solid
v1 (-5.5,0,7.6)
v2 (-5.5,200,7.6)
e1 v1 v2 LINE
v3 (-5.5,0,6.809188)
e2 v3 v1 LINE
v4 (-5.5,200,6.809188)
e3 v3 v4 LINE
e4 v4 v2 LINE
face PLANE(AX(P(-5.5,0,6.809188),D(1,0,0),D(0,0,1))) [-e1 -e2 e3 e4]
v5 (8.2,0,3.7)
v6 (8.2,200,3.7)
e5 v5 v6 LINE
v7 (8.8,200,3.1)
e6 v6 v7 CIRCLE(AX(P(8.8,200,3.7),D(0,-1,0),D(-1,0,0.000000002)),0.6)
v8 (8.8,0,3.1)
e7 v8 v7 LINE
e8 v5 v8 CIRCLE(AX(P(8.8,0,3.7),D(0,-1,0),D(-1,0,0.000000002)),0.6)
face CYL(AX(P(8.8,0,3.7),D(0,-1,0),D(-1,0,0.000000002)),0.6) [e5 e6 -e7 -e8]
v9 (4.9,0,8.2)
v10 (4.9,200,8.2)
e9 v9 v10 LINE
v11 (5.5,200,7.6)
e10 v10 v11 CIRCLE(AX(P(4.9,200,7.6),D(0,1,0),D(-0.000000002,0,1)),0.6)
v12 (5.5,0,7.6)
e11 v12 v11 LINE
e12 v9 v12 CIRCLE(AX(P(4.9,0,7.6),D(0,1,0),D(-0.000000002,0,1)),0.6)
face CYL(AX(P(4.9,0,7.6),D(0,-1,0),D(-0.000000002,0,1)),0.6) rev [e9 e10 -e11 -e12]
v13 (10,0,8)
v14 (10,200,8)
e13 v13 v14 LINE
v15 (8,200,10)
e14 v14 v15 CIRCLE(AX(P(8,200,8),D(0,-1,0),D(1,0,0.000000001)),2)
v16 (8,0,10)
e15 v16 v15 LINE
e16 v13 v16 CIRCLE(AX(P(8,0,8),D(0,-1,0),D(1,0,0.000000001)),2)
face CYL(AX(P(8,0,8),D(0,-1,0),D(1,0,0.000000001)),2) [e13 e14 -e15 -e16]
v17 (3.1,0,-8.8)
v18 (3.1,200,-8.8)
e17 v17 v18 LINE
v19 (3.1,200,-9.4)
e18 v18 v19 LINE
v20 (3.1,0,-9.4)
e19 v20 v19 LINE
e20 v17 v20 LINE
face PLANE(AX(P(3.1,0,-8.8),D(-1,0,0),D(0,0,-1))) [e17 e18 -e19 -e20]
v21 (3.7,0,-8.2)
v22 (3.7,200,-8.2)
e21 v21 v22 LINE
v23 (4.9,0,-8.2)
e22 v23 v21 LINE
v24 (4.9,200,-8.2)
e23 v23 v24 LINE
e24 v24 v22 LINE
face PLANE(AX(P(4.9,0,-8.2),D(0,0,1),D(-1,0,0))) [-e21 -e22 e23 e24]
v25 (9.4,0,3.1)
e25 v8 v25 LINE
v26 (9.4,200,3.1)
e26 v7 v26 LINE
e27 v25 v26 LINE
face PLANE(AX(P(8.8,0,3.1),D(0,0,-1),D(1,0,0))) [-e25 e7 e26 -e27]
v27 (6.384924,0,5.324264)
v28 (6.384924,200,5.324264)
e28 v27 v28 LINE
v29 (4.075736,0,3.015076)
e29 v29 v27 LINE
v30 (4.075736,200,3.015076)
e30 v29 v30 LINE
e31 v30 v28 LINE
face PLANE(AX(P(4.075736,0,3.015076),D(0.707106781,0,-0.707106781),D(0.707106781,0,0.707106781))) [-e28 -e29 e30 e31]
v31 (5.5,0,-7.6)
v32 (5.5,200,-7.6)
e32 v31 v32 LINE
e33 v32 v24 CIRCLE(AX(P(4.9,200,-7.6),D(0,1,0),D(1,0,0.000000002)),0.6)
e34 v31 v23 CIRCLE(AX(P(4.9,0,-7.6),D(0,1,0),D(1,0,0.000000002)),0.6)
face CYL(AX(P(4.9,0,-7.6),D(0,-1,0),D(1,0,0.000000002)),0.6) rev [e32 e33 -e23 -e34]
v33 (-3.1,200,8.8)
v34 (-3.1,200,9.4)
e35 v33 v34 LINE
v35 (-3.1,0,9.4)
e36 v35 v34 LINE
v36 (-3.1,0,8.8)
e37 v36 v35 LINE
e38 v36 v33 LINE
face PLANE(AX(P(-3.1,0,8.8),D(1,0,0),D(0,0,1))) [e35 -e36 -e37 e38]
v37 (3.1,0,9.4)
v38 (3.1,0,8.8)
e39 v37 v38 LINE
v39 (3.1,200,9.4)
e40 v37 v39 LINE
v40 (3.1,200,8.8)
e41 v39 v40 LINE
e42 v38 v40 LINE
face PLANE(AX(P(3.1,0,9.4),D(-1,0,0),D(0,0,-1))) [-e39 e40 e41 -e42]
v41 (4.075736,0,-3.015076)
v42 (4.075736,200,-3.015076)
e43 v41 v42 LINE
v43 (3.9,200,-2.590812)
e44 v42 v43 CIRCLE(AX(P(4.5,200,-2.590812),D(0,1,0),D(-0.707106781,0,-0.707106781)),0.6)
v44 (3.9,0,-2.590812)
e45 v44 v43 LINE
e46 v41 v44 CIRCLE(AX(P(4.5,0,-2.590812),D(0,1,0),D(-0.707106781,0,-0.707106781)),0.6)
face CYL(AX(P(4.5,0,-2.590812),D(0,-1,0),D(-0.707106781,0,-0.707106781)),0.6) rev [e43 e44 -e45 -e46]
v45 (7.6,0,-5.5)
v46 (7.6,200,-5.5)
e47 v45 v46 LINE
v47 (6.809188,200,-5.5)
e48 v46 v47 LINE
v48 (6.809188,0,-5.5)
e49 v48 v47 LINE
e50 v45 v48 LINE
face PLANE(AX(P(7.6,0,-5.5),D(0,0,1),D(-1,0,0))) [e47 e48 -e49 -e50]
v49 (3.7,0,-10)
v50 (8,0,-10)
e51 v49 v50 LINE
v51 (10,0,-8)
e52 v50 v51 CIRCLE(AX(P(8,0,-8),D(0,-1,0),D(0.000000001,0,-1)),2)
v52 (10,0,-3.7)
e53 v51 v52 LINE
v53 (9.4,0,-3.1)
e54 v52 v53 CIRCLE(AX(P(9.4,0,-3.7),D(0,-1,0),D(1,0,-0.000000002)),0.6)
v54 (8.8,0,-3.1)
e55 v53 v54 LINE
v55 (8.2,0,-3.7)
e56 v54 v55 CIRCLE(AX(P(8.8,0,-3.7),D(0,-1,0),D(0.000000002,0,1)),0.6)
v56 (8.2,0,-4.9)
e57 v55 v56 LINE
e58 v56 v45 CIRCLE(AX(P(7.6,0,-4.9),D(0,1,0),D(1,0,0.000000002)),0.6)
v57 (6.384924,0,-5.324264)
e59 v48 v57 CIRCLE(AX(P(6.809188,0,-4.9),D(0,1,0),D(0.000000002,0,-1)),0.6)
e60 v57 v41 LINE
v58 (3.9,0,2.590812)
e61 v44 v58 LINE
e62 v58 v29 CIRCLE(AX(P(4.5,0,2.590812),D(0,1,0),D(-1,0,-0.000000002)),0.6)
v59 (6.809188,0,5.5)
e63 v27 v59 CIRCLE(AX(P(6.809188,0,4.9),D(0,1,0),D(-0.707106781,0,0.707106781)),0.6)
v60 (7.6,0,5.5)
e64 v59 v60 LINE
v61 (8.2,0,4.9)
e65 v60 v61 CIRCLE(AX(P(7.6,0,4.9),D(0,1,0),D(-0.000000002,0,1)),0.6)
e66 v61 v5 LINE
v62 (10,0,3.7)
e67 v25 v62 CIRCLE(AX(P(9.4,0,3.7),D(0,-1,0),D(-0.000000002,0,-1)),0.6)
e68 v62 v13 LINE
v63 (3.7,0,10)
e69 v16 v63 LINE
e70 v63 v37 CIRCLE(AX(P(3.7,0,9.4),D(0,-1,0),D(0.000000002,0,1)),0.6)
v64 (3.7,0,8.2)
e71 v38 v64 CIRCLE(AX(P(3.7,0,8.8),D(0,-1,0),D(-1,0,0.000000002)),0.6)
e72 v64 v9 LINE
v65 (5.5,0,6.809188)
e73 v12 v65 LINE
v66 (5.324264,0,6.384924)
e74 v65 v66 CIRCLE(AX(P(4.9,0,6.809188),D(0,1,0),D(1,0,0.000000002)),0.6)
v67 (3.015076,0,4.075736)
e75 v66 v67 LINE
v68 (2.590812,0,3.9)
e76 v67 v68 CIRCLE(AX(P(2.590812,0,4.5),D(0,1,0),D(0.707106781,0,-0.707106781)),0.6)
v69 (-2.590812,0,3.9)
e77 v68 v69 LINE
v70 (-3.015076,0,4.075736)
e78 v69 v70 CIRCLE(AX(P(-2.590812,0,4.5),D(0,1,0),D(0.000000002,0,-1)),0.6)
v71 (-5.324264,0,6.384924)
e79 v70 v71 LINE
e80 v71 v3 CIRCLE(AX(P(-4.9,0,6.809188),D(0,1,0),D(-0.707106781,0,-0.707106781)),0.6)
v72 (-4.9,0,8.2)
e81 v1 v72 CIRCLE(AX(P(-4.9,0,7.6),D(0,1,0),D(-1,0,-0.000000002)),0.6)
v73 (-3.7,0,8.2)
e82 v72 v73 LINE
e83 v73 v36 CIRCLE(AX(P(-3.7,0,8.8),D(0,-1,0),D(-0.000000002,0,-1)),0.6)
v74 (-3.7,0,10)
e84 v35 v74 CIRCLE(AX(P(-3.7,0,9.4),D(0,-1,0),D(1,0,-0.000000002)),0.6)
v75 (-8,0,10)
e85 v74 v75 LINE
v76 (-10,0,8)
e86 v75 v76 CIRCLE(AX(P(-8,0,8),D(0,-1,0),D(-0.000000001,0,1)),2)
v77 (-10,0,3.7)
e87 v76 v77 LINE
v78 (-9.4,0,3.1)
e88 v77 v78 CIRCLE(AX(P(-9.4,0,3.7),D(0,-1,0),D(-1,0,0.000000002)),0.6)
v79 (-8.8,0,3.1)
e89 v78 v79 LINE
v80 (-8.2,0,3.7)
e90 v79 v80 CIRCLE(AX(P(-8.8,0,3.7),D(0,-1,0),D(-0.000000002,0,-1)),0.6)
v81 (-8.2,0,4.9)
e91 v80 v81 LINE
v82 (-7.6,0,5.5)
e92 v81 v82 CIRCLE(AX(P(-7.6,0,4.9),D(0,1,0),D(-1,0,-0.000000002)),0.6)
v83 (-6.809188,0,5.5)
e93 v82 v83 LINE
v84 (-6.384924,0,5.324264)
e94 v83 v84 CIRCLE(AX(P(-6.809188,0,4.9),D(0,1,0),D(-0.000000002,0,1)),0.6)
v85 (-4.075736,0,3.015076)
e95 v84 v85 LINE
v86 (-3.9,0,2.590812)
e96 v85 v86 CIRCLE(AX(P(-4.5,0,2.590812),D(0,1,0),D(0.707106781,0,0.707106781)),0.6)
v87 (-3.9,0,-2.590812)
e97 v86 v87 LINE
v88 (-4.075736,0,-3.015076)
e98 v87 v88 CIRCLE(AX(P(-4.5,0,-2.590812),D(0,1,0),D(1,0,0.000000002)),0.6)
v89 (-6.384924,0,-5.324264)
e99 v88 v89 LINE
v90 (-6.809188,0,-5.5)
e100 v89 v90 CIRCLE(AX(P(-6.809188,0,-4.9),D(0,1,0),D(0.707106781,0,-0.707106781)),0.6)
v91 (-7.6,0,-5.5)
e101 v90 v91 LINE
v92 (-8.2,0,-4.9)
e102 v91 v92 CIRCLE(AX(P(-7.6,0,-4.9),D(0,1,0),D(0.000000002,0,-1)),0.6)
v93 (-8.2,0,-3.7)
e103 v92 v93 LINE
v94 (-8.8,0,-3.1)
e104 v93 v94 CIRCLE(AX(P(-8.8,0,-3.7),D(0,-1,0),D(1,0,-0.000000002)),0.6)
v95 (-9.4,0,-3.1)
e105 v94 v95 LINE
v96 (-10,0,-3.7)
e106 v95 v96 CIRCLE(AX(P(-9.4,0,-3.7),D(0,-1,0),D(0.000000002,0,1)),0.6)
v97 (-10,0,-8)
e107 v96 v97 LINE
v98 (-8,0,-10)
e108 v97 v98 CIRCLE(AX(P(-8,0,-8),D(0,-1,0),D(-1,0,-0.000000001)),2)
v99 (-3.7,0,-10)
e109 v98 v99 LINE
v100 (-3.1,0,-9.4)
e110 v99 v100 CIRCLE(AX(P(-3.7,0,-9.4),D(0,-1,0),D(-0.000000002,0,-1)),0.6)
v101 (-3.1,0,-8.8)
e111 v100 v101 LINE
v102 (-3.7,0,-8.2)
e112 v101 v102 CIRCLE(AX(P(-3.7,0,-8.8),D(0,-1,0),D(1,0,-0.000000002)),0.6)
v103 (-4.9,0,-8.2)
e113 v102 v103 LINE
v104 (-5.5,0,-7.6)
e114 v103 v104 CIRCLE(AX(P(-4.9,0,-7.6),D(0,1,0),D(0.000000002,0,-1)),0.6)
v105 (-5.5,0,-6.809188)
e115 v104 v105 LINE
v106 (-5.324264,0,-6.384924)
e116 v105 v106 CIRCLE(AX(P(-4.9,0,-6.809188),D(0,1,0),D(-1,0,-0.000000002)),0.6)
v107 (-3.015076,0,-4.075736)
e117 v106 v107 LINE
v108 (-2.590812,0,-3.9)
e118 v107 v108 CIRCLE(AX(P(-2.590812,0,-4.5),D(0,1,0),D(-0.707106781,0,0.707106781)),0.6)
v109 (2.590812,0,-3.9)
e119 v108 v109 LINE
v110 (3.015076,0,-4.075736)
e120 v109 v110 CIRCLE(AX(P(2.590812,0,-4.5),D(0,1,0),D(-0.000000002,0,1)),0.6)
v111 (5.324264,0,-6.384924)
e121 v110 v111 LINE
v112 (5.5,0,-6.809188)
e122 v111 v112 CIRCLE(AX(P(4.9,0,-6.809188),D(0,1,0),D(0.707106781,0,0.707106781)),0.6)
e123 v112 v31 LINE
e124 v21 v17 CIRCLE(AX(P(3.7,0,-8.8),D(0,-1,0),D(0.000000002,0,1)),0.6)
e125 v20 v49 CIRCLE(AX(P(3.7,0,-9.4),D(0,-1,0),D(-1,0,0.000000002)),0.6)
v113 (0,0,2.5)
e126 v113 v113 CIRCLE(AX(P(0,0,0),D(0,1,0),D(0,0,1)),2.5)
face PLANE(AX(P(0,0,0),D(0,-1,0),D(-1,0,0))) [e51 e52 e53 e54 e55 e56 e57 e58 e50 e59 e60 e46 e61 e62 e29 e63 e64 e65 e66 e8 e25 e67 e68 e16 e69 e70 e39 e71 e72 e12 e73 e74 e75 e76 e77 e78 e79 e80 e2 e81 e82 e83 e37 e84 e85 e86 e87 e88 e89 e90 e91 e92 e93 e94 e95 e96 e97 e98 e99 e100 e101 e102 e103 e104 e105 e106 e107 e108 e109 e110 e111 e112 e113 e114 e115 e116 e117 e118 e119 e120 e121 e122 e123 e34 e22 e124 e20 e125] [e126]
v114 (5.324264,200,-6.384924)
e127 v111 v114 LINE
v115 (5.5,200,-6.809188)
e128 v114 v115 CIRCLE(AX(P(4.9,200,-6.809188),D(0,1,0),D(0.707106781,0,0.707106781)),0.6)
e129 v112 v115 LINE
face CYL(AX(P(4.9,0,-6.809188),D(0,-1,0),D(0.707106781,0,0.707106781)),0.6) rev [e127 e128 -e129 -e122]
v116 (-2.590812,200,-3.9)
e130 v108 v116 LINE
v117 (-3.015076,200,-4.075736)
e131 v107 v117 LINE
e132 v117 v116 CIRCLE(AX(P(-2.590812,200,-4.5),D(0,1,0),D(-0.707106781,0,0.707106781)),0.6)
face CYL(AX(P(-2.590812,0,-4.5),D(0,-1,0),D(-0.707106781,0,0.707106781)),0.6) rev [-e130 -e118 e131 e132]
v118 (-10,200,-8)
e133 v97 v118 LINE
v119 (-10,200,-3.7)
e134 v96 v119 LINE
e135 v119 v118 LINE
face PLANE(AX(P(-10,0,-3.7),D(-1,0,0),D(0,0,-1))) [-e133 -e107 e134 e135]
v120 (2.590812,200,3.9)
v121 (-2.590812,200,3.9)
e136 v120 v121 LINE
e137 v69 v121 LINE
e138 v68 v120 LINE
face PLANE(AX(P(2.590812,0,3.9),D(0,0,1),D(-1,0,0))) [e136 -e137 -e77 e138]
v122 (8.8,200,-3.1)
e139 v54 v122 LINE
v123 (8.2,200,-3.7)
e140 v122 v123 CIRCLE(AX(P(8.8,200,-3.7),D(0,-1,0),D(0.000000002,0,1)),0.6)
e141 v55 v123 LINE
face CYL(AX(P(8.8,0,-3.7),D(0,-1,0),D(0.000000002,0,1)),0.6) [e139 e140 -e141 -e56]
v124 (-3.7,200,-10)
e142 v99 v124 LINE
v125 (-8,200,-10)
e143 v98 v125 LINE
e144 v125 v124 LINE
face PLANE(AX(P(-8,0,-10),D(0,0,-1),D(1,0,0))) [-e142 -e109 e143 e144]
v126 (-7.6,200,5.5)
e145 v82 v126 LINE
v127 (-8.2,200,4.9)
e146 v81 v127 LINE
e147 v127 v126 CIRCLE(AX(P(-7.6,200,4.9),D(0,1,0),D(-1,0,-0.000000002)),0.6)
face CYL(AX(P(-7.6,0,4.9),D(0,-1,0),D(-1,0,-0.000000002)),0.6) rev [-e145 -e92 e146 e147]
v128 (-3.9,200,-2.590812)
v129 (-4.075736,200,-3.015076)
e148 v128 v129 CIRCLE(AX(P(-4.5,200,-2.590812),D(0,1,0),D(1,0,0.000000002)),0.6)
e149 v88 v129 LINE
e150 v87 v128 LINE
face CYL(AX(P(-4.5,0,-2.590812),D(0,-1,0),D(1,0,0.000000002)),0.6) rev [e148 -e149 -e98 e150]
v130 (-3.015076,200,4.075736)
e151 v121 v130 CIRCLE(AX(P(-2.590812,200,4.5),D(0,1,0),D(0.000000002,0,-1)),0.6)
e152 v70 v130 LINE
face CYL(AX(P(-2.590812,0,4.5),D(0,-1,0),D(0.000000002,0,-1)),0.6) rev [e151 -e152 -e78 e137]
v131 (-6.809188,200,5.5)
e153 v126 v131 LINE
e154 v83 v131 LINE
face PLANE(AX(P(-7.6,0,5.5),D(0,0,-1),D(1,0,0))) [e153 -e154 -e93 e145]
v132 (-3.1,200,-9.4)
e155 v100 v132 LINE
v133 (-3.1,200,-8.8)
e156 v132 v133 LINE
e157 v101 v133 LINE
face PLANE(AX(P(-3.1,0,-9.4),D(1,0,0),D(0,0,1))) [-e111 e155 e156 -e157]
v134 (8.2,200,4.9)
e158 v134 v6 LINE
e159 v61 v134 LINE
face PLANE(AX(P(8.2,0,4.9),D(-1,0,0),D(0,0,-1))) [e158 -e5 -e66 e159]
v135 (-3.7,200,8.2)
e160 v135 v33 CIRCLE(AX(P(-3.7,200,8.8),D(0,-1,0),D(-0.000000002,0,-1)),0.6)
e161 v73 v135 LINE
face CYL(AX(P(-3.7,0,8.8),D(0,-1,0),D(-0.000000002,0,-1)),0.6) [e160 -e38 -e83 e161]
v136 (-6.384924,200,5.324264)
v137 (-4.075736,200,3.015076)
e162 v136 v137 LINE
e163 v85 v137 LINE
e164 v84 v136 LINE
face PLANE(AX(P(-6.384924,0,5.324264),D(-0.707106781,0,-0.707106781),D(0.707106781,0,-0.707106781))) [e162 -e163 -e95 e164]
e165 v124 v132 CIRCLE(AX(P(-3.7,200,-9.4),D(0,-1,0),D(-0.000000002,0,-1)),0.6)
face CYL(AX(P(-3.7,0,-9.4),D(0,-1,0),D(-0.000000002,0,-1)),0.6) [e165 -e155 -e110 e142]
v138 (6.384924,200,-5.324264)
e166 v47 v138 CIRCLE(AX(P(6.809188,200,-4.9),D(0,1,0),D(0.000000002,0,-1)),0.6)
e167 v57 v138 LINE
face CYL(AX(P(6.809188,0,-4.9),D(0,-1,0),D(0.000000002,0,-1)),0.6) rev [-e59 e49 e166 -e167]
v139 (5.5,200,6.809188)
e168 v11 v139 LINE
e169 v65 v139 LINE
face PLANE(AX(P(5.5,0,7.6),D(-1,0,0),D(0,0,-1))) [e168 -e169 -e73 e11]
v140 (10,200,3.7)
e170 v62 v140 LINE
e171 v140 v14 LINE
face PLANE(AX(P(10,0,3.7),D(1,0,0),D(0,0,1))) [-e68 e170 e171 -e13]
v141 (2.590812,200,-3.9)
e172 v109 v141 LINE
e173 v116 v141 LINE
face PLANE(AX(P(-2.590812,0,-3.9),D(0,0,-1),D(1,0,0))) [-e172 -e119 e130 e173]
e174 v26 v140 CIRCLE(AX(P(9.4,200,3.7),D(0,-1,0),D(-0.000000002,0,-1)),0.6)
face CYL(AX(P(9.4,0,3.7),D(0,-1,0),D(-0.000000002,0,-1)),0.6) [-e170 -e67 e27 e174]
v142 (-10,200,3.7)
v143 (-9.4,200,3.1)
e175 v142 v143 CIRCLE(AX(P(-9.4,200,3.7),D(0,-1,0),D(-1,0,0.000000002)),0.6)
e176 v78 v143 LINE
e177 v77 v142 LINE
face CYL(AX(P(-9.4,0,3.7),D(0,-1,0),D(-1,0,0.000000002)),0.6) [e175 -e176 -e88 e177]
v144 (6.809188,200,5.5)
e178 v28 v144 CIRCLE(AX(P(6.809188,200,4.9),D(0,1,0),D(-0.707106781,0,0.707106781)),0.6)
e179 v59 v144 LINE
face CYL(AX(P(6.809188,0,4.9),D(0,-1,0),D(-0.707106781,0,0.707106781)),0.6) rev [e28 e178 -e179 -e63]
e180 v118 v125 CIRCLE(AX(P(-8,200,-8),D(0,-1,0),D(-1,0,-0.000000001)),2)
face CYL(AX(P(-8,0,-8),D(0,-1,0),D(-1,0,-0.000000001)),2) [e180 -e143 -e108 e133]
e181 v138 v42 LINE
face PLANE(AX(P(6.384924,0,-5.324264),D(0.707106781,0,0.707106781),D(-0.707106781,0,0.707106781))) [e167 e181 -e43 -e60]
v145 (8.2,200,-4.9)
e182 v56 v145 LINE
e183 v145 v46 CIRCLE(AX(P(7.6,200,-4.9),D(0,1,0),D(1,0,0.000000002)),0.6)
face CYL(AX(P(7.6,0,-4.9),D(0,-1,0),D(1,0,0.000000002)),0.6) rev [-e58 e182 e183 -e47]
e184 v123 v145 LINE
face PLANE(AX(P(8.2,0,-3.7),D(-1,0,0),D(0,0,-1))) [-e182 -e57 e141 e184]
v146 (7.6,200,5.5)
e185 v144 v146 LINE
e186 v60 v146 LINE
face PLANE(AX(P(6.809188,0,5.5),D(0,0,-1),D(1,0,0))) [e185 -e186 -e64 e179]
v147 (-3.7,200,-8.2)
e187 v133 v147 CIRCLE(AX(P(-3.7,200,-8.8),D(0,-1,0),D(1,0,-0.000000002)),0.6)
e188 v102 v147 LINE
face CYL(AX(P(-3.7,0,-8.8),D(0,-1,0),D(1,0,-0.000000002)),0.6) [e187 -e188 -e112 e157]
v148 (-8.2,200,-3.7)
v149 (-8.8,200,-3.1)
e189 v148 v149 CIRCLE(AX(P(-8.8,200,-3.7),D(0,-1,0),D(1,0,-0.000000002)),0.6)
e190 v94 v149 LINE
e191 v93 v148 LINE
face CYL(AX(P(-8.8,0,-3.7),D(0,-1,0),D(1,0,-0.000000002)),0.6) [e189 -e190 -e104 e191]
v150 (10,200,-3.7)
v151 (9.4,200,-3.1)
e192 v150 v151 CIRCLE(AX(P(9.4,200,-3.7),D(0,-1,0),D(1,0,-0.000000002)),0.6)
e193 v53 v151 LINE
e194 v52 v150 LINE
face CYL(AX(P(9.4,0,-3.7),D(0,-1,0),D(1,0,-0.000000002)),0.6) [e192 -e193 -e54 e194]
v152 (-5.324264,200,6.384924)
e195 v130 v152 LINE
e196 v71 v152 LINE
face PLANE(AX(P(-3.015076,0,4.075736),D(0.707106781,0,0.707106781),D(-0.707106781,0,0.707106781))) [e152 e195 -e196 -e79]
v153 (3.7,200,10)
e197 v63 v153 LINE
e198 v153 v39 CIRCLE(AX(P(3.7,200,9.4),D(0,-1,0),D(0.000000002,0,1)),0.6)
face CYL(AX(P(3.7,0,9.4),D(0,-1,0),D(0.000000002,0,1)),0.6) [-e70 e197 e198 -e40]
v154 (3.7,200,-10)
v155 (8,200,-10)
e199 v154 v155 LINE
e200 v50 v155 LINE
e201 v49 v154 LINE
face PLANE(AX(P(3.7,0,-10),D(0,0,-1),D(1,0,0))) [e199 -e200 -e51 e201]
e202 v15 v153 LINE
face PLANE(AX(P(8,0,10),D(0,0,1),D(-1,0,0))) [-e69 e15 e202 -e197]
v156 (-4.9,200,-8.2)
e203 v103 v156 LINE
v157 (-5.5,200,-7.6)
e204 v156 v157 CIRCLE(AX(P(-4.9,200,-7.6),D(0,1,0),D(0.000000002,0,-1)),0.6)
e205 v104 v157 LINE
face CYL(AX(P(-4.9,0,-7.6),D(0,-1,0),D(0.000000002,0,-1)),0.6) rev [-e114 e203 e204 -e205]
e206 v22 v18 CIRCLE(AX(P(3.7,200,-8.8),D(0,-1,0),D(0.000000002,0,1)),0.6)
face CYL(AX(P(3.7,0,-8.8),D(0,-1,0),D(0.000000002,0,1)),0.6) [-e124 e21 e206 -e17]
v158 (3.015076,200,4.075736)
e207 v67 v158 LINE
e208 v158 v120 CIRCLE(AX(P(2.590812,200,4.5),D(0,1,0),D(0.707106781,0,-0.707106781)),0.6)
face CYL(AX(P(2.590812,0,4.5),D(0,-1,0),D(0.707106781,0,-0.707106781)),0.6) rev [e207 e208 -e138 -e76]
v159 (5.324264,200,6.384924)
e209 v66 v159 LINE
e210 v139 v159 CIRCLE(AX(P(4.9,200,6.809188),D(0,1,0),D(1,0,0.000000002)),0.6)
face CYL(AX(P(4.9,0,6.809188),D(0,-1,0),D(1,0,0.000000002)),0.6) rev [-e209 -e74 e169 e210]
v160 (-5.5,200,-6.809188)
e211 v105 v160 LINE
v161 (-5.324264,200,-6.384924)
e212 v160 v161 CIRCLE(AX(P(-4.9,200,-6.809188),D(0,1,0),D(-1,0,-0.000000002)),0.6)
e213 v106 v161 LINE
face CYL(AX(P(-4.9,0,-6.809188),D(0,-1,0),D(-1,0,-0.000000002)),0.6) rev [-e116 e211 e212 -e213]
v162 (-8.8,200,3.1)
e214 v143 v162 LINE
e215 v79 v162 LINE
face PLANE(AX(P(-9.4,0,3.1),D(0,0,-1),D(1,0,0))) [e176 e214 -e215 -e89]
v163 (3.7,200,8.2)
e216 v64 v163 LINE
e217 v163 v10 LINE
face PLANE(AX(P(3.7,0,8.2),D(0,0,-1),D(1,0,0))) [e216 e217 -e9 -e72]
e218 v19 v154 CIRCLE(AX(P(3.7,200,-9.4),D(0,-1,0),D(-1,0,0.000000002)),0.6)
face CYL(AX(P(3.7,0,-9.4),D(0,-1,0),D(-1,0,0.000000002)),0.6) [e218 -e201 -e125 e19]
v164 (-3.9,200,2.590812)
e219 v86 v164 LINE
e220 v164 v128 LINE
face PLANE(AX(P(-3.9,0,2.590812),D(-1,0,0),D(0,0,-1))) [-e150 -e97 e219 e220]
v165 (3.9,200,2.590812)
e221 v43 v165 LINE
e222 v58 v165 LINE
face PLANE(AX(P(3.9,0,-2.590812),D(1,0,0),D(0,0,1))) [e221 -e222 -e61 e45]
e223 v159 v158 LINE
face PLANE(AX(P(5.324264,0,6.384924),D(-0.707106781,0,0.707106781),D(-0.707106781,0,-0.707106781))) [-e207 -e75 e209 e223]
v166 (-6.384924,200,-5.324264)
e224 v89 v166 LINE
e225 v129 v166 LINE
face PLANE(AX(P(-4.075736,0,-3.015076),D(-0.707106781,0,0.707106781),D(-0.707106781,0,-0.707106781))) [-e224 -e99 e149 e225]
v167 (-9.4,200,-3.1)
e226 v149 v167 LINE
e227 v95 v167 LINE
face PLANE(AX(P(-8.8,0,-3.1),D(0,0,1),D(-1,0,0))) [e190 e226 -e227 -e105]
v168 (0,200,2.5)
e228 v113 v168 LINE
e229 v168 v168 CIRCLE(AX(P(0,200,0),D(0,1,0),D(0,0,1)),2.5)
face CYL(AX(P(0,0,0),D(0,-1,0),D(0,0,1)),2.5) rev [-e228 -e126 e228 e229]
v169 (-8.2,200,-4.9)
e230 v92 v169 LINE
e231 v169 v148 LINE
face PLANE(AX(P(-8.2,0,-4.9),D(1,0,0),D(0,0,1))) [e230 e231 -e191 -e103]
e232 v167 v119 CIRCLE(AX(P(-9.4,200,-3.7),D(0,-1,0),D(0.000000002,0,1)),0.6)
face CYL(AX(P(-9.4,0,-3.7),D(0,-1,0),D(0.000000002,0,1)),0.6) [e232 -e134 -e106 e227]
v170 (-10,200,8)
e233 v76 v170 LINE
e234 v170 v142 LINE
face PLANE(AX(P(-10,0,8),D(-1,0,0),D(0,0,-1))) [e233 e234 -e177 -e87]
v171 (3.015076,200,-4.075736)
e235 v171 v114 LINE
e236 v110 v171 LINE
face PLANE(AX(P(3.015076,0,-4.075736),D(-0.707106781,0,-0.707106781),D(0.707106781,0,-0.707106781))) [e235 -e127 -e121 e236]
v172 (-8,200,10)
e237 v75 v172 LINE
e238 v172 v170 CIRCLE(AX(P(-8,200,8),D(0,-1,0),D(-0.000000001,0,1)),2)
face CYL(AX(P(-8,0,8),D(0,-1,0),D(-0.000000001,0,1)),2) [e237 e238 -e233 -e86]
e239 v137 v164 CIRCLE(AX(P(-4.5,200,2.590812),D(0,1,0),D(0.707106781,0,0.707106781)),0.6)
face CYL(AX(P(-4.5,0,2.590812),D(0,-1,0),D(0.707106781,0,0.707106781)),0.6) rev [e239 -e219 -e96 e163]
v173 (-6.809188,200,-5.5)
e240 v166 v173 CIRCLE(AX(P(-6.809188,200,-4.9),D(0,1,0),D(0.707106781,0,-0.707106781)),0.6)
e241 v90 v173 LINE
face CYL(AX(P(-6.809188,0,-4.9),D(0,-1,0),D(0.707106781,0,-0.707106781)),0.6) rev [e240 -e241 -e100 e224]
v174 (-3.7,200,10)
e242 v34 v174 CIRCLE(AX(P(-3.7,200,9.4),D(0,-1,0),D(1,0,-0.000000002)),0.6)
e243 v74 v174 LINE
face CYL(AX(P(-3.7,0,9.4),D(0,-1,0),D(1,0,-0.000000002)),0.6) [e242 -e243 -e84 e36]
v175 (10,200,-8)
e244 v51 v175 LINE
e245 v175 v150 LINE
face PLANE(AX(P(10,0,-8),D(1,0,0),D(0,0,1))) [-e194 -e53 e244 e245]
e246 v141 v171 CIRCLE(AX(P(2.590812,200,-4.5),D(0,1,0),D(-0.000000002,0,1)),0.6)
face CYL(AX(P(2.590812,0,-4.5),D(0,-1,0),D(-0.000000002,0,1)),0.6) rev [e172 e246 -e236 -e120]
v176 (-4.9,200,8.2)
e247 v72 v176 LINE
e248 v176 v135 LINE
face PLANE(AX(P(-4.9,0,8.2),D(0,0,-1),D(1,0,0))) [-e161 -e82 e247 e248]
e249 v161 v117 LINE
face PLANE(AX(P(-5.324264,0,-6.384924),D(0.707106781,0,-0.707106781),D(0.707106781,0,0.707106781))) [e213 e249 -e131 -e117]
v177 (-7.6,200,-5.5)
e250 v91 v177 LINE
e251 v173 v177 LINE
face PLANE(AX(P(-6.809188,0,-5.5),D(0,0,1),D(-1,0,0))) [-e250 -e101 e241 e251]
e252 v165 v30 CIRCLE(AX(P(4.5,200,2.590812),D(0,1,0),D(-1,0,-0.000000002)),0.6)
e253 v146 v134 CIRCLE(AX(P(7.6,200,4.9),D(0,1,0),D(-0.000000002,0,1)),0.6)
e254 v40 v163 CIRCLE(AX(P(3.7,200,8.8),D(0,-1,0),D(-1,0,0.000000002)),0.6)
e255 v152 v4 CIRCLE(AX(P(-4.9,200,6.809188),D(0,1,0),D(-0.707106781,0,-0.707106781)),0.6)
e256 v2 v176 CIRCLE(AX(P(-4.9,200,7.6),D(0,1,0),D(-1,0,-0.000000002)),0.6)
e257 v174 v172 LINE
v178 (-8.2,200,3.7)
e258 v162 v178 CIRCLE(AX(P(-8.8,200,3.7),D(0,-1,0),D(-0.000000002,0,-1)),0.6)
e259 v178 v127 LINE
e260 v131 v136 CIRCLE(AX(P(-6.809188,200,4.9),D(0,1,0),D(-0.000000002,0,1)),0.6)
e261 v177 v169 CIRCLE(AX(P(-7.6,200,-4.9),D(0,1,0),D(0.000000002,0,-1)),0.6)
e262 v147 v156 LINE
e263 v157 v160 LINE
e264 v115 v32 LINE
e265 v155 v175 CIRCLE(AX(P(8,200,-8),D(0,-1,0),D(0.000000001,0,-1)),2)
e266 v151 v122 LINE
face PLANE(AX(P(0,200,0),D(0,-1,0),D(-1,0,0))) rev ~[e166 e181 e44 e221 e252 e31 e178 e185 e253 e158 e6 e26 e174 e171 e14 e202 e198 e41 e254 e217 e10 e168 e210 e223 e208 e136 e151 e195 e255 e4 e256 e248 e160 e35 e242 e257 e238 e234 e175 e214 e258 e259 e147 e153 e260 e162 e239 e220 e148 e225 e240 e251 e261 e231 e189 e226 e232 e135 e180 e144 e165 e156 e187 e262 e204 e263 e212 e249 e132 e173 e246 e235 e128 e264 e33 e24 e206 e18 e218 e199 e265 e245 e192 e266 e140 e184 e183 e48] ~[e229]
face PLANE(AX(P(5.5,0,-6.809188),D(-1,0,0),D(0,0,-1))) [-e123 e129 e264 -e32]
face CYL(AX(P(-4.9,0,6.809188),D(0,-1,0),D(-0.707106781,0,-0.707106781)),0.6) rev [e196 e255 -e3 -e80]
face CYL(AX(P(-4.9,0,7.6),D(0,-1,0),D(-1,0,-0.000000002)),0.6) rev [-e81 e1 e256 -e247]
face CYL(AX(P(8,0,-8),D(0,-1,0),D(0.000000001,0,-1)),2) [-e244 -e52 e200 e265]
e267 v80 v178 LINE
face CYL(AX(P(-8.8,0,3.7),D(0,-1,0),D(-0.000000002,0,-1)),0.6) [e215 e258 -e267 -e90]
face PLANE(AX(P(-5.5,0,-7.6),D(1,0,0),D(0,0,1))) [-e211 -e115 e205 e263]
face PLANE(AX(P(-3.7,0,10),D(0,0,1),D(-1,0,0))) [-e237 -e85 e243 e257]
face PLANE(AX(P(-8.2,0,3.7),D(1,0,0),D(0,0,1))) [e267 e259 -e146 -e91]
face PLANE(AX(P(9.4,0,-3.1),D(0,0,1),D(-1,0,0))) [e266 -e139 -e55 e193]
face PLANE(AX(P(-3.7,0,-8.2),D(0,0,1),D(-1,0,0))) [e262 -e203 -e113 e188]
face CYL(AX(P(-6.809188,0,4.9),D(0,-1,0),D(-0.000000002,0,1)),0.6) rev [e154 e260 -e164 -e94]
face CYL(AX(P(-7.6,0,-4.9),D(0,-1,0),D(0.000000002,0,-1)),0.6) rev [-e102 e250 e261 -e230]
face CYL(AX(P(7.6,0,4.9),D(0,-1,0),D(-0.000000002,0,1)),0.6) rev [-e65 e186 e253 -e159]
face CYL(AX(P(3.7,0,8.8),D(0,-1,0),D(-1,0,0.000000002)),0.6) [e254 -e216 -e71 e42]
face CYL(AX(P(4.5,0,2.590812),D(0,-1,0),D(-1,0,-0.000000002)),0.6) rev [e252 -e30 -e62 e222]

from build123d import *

# Parameters (mm, degrees)
SKETCH_1_R      = 2.5
EXTRUDE_1_DEPTH = 200


with BuildPart() as part:
    # 草图1 → 凸台-拉伸1 (new body)
    with BuildSketch(Plane(origin=(0, 0, 0), x_dir=(1, 0, 0), z_dir=(0, 1, 0))):
        with BuildLine():
            Line((3.1, 8.8), (3.1, 9.4))
            ThreePointArc((3.1, 9.4), (3.275735931, 9.824264069), (3.7, 10))
            Line((3.7, 10), (8, 10))
            ThreePointArc((8, 10), (9.414213562, 9.414213562), (10, 8))
            Line((10, 8), (10, 3.7))
            ThreePointArc((10, 3.7), (9.824264069, 3.275735931), (9.4, 3.1))
            Line((9.4, 3.1), (8.8, 3.1))
            ThreePointArc((8.8, 3.1), (8.375735931, 3.275735931), (8.2, 3.7))
            Line((8.2, 3.7), (8.2, 4.9))
            ThreePointArc((8.2, 4.9), (8.024264069, 5.324264069), (7.6, 5.5))
            Line((7.6, 5.5), (6.809188309, 5.5))
            ThreePointArc((6.809188309, 5.5), (6.57957825, 5.45432772), (6.38492424, 5.324264069))
            Line((6.38492424, 5.324264069), (4.075735931, 3.01507576))
            ThreePointArc((4.075735931, 3.01507576), (3.94567228, 2.82042175), (3.9, 2.590811691))
            Line((3.9, 2.590811691), (3.9, 0))
            Line((3.9, 0), (3.9, -2.590811691))
            ThreePointArc((3.9, -2.590811691), (3.94567228, -2.82042175), (4.075735931, -3.01507576))
            Line((4.075735931, -3.01507576), (6.38492424, -5.324264069))
            ThreePointArc((6.38492424, -5.324264069), (6.57957825, -5.45432772), (6.809188309, -5.5))
            Line((6.809188309, -5.5), (7.6, -5.5))
            ThreePointArc((7.6, -5.5), (8.024264069, -5.324264069), (8.2, -4.9))
            Line((8.2, -4.9), (8.2, -3.7))
            ThreePointArc((8.2, -3.7), (8.375735931, -3.275735931), (8.8, -3.1))
            Line((8.8, -3.1), (9.4, -3.1))
            ThreePointArc((9.4, -3.1), (9.824264069, -3.275735931), (10, -3.7))
            Line((10, -3.7), (10, -8))
            ThreePointArc((10, -8), (9.414213562, -9.414213562), (8, -10))
            Line((8, -10), (3.7, -10))
            ThreePointArc((3.7, -10), (3.275735931, -9.824264069), (3.1, -9.4))
            Line((3.1, -9.4), (3.1, -8.8))
            ThreePointArc((3.1, -8.8), (3.275735931, -8.375735931), (3.7, -8.2))
            Line((3.7, -8.2), (4.9, -8.2))
            ThreePointArc((4.9, -8.2), (5.324264069, -8.024264069), (5.5, -7.6))
            Line((5.5, -7.6), (5.5, -6.809188309))
            ThreePointArc((5.5, -6.809188309), (5.45432772, -6.57957825), (5.324264069, -6.38492424))
            Line((5.324264069, -6.38492424), (3.01507576, -4.075735931))
            ThreePointArc((3.01507576, -4.075735931), (2.82042175, -3.94567228), (2.590811691, -3.9))
            Line((2.590811691, -3.9), (0, -3.9))
            Line((0, -3.9), (-2.590811691, -3.9))
            ThreePointArc((-2.590811691, -3.9), (-2.82042175, -3.94567228), (-3.01507576, -4.075735931))
            Line((-3.01507576, -4.075735931), (-5.324264069, -6.38492424))
            ThreePointArc((-5.324264069, -6.38492424), (-5.45432772, -6.57957825), (-5.5, -6.809188309))
            Line((-5.5, -6.809188309), (-5.5, -7.6))
            ThreePointArc((-5.5, -7.6), (-5.324264069, -8.024264069), (-4.9, -8.2))
            Line((-4.9, -8.2), (-3.7, -8.2))
            ThreePointArc((-3.7, -8.2), (-3.275735931, -8.375735931), (-3.1, -8.8))
            Line((-3.1, -8.8), (-3.1, -9.4))
            ThreePointArc((-3.1, -9.4), (-3.275735931, -9.824264069), (-3.7, -10))
            Line((-3.7, -10), (-8, -10))
            ThreePointArc((-8, -10), (-9.414213562, -9.414213562), (-10, -8))
            Line((-10, -8), (-10, -3.7))
            ThreePointArc((-10, -3.7), (-9.824264069, -3.275735931), (-9.4, -3.1))
            Line((-9.4, -3.1), (-8.8, -3.1))
            ThreePointArc((-8.8, -3.1), (-8.375735931, -3.275735931), (-8.2, -3.7))
            Line((-8.2, -3.7), (-8.2, -4.9))
            ThreePointArc((-8.2, -4.9), (-8.024264069, -5.324264069), (-7.6, -5.5))
            Line((-7.6, -5.5), (-6.809188309, -5.5))
            ThreePointArc((-6.809188309, -5.5), (-6.57957825, -5.45432772), (-6.38492424, -5.324264069))
            Line((-6.38492424, -5.324264069), (-4.075735931, -3.01507576))
            ThreePointArc((-4.075735931, -3.01507576), (-3.94567228, -2.82042175), (-3.9, -2.590811691))
            Line((-3.9, -2.590811691), (-3.9, 0))
            Line((-3.9, 0), (-3.9, 2.590811691))
            ThreePointArc((-3.9, 2.590811691), (-3.94567228, 2.82042175), (-4.075735931, 3.01507576))
            Line((-4.075735931, 3.01507576), (-6.38492424, 5.324264069))
            ThreePointArc((-6.38492424, 5.324264069), (-6.57957825, 5.45432772), (-6.809188309, 5.5))
            Line((-6.809188309, 5.5), (-7.6, 5.5))
            ThreePointArc((-7.6, 5.5), (-8.024264069, 5.324264069), (-8.2, 4.9))
            Line((-8.2, 4.9), (-8.2, 3.7))
            ThreePointArc((-8.2, 3.7), (-8.375735931, 3.275735931), (-8.8, 3.1))
            Line((-8.8, 3.1), (-9.4, 3.1))
            ThreePointArc((-9.4, 3.1), (-9.824264069, 3.275735931), (-10, 3.7))
            Line((-10, 3.7), (-10, 8))
            ThreePointArc((-10, 8), (-9.414213562, 9.414213562), (-8, 10))
            Line((-8, 10), (-3.7, 10))
            ThreePointArc((-3.7, 10), (-3.275735931, 9.824264069), (-3.1, 9.4))
            Line((-3.1, 9.4), (-3.1, 8.8))
            ThreePointArc((-3.1, 8.8), (-3.275735931, 8.375735931), (-3.7, 8.2))
            Line((-3.7, 8.2), (-4.9, 8.2))
            ThreePointArc((-4.9, 8.2), (-5.324264069, 8.024264069), (-5.5, 7.6))
            Line((-5.5, 7.6), (-5.5, 6.809188309))
            ThreePointArc((-5.5, 6.809188309), (-5.45432772, 6.57957825), (-5.324264069, 6.38492424))
            Line((-5.324264069, 6.38492424), (-3.01507576, 4.075735931))
            ThreePointArc((-3.01507576, 4.075735931), (-2.82042175, 3.94567228), (-2.590811691, 3.9))
            Line((-2.590811691, 3.9), (0, 3.9))
            Line((0, 3.9), (2.590811691, 3.9))
            ThreePointArc((2.590811691, 3.9), (2.82042175, 3.94567228), (3.01507576, 4.075735931))
            Line((3.01507576, 4.075735931), (5.324264069, 6.38492424))
            ThreePointArc((5.324264069, 6.38492424), (5.45432772, 6.57957825), (5.5, 6.809188309))
            Line((5.5, 6.809188309), (5.5, 7.6))
            ThreePointArc((5.5, 7.6), (5.324264069, 8.024264069), (4.9, 8.2))
            Line((4.9, 8.2), (3.7, 8.2))
            ThreePointArc((3.7, 8.2), (3.275735931, 8.375735931), (3.1, 8.8))
        make_face()
        with Locations(Location((0, 0, 0), (0, 0, 270))):
            Circle(SKETCH_1_R, mode=Mode.SUBTRACT)
    extrude(amount=EXTRUDE_1_DEPTH)


solid = part.part
